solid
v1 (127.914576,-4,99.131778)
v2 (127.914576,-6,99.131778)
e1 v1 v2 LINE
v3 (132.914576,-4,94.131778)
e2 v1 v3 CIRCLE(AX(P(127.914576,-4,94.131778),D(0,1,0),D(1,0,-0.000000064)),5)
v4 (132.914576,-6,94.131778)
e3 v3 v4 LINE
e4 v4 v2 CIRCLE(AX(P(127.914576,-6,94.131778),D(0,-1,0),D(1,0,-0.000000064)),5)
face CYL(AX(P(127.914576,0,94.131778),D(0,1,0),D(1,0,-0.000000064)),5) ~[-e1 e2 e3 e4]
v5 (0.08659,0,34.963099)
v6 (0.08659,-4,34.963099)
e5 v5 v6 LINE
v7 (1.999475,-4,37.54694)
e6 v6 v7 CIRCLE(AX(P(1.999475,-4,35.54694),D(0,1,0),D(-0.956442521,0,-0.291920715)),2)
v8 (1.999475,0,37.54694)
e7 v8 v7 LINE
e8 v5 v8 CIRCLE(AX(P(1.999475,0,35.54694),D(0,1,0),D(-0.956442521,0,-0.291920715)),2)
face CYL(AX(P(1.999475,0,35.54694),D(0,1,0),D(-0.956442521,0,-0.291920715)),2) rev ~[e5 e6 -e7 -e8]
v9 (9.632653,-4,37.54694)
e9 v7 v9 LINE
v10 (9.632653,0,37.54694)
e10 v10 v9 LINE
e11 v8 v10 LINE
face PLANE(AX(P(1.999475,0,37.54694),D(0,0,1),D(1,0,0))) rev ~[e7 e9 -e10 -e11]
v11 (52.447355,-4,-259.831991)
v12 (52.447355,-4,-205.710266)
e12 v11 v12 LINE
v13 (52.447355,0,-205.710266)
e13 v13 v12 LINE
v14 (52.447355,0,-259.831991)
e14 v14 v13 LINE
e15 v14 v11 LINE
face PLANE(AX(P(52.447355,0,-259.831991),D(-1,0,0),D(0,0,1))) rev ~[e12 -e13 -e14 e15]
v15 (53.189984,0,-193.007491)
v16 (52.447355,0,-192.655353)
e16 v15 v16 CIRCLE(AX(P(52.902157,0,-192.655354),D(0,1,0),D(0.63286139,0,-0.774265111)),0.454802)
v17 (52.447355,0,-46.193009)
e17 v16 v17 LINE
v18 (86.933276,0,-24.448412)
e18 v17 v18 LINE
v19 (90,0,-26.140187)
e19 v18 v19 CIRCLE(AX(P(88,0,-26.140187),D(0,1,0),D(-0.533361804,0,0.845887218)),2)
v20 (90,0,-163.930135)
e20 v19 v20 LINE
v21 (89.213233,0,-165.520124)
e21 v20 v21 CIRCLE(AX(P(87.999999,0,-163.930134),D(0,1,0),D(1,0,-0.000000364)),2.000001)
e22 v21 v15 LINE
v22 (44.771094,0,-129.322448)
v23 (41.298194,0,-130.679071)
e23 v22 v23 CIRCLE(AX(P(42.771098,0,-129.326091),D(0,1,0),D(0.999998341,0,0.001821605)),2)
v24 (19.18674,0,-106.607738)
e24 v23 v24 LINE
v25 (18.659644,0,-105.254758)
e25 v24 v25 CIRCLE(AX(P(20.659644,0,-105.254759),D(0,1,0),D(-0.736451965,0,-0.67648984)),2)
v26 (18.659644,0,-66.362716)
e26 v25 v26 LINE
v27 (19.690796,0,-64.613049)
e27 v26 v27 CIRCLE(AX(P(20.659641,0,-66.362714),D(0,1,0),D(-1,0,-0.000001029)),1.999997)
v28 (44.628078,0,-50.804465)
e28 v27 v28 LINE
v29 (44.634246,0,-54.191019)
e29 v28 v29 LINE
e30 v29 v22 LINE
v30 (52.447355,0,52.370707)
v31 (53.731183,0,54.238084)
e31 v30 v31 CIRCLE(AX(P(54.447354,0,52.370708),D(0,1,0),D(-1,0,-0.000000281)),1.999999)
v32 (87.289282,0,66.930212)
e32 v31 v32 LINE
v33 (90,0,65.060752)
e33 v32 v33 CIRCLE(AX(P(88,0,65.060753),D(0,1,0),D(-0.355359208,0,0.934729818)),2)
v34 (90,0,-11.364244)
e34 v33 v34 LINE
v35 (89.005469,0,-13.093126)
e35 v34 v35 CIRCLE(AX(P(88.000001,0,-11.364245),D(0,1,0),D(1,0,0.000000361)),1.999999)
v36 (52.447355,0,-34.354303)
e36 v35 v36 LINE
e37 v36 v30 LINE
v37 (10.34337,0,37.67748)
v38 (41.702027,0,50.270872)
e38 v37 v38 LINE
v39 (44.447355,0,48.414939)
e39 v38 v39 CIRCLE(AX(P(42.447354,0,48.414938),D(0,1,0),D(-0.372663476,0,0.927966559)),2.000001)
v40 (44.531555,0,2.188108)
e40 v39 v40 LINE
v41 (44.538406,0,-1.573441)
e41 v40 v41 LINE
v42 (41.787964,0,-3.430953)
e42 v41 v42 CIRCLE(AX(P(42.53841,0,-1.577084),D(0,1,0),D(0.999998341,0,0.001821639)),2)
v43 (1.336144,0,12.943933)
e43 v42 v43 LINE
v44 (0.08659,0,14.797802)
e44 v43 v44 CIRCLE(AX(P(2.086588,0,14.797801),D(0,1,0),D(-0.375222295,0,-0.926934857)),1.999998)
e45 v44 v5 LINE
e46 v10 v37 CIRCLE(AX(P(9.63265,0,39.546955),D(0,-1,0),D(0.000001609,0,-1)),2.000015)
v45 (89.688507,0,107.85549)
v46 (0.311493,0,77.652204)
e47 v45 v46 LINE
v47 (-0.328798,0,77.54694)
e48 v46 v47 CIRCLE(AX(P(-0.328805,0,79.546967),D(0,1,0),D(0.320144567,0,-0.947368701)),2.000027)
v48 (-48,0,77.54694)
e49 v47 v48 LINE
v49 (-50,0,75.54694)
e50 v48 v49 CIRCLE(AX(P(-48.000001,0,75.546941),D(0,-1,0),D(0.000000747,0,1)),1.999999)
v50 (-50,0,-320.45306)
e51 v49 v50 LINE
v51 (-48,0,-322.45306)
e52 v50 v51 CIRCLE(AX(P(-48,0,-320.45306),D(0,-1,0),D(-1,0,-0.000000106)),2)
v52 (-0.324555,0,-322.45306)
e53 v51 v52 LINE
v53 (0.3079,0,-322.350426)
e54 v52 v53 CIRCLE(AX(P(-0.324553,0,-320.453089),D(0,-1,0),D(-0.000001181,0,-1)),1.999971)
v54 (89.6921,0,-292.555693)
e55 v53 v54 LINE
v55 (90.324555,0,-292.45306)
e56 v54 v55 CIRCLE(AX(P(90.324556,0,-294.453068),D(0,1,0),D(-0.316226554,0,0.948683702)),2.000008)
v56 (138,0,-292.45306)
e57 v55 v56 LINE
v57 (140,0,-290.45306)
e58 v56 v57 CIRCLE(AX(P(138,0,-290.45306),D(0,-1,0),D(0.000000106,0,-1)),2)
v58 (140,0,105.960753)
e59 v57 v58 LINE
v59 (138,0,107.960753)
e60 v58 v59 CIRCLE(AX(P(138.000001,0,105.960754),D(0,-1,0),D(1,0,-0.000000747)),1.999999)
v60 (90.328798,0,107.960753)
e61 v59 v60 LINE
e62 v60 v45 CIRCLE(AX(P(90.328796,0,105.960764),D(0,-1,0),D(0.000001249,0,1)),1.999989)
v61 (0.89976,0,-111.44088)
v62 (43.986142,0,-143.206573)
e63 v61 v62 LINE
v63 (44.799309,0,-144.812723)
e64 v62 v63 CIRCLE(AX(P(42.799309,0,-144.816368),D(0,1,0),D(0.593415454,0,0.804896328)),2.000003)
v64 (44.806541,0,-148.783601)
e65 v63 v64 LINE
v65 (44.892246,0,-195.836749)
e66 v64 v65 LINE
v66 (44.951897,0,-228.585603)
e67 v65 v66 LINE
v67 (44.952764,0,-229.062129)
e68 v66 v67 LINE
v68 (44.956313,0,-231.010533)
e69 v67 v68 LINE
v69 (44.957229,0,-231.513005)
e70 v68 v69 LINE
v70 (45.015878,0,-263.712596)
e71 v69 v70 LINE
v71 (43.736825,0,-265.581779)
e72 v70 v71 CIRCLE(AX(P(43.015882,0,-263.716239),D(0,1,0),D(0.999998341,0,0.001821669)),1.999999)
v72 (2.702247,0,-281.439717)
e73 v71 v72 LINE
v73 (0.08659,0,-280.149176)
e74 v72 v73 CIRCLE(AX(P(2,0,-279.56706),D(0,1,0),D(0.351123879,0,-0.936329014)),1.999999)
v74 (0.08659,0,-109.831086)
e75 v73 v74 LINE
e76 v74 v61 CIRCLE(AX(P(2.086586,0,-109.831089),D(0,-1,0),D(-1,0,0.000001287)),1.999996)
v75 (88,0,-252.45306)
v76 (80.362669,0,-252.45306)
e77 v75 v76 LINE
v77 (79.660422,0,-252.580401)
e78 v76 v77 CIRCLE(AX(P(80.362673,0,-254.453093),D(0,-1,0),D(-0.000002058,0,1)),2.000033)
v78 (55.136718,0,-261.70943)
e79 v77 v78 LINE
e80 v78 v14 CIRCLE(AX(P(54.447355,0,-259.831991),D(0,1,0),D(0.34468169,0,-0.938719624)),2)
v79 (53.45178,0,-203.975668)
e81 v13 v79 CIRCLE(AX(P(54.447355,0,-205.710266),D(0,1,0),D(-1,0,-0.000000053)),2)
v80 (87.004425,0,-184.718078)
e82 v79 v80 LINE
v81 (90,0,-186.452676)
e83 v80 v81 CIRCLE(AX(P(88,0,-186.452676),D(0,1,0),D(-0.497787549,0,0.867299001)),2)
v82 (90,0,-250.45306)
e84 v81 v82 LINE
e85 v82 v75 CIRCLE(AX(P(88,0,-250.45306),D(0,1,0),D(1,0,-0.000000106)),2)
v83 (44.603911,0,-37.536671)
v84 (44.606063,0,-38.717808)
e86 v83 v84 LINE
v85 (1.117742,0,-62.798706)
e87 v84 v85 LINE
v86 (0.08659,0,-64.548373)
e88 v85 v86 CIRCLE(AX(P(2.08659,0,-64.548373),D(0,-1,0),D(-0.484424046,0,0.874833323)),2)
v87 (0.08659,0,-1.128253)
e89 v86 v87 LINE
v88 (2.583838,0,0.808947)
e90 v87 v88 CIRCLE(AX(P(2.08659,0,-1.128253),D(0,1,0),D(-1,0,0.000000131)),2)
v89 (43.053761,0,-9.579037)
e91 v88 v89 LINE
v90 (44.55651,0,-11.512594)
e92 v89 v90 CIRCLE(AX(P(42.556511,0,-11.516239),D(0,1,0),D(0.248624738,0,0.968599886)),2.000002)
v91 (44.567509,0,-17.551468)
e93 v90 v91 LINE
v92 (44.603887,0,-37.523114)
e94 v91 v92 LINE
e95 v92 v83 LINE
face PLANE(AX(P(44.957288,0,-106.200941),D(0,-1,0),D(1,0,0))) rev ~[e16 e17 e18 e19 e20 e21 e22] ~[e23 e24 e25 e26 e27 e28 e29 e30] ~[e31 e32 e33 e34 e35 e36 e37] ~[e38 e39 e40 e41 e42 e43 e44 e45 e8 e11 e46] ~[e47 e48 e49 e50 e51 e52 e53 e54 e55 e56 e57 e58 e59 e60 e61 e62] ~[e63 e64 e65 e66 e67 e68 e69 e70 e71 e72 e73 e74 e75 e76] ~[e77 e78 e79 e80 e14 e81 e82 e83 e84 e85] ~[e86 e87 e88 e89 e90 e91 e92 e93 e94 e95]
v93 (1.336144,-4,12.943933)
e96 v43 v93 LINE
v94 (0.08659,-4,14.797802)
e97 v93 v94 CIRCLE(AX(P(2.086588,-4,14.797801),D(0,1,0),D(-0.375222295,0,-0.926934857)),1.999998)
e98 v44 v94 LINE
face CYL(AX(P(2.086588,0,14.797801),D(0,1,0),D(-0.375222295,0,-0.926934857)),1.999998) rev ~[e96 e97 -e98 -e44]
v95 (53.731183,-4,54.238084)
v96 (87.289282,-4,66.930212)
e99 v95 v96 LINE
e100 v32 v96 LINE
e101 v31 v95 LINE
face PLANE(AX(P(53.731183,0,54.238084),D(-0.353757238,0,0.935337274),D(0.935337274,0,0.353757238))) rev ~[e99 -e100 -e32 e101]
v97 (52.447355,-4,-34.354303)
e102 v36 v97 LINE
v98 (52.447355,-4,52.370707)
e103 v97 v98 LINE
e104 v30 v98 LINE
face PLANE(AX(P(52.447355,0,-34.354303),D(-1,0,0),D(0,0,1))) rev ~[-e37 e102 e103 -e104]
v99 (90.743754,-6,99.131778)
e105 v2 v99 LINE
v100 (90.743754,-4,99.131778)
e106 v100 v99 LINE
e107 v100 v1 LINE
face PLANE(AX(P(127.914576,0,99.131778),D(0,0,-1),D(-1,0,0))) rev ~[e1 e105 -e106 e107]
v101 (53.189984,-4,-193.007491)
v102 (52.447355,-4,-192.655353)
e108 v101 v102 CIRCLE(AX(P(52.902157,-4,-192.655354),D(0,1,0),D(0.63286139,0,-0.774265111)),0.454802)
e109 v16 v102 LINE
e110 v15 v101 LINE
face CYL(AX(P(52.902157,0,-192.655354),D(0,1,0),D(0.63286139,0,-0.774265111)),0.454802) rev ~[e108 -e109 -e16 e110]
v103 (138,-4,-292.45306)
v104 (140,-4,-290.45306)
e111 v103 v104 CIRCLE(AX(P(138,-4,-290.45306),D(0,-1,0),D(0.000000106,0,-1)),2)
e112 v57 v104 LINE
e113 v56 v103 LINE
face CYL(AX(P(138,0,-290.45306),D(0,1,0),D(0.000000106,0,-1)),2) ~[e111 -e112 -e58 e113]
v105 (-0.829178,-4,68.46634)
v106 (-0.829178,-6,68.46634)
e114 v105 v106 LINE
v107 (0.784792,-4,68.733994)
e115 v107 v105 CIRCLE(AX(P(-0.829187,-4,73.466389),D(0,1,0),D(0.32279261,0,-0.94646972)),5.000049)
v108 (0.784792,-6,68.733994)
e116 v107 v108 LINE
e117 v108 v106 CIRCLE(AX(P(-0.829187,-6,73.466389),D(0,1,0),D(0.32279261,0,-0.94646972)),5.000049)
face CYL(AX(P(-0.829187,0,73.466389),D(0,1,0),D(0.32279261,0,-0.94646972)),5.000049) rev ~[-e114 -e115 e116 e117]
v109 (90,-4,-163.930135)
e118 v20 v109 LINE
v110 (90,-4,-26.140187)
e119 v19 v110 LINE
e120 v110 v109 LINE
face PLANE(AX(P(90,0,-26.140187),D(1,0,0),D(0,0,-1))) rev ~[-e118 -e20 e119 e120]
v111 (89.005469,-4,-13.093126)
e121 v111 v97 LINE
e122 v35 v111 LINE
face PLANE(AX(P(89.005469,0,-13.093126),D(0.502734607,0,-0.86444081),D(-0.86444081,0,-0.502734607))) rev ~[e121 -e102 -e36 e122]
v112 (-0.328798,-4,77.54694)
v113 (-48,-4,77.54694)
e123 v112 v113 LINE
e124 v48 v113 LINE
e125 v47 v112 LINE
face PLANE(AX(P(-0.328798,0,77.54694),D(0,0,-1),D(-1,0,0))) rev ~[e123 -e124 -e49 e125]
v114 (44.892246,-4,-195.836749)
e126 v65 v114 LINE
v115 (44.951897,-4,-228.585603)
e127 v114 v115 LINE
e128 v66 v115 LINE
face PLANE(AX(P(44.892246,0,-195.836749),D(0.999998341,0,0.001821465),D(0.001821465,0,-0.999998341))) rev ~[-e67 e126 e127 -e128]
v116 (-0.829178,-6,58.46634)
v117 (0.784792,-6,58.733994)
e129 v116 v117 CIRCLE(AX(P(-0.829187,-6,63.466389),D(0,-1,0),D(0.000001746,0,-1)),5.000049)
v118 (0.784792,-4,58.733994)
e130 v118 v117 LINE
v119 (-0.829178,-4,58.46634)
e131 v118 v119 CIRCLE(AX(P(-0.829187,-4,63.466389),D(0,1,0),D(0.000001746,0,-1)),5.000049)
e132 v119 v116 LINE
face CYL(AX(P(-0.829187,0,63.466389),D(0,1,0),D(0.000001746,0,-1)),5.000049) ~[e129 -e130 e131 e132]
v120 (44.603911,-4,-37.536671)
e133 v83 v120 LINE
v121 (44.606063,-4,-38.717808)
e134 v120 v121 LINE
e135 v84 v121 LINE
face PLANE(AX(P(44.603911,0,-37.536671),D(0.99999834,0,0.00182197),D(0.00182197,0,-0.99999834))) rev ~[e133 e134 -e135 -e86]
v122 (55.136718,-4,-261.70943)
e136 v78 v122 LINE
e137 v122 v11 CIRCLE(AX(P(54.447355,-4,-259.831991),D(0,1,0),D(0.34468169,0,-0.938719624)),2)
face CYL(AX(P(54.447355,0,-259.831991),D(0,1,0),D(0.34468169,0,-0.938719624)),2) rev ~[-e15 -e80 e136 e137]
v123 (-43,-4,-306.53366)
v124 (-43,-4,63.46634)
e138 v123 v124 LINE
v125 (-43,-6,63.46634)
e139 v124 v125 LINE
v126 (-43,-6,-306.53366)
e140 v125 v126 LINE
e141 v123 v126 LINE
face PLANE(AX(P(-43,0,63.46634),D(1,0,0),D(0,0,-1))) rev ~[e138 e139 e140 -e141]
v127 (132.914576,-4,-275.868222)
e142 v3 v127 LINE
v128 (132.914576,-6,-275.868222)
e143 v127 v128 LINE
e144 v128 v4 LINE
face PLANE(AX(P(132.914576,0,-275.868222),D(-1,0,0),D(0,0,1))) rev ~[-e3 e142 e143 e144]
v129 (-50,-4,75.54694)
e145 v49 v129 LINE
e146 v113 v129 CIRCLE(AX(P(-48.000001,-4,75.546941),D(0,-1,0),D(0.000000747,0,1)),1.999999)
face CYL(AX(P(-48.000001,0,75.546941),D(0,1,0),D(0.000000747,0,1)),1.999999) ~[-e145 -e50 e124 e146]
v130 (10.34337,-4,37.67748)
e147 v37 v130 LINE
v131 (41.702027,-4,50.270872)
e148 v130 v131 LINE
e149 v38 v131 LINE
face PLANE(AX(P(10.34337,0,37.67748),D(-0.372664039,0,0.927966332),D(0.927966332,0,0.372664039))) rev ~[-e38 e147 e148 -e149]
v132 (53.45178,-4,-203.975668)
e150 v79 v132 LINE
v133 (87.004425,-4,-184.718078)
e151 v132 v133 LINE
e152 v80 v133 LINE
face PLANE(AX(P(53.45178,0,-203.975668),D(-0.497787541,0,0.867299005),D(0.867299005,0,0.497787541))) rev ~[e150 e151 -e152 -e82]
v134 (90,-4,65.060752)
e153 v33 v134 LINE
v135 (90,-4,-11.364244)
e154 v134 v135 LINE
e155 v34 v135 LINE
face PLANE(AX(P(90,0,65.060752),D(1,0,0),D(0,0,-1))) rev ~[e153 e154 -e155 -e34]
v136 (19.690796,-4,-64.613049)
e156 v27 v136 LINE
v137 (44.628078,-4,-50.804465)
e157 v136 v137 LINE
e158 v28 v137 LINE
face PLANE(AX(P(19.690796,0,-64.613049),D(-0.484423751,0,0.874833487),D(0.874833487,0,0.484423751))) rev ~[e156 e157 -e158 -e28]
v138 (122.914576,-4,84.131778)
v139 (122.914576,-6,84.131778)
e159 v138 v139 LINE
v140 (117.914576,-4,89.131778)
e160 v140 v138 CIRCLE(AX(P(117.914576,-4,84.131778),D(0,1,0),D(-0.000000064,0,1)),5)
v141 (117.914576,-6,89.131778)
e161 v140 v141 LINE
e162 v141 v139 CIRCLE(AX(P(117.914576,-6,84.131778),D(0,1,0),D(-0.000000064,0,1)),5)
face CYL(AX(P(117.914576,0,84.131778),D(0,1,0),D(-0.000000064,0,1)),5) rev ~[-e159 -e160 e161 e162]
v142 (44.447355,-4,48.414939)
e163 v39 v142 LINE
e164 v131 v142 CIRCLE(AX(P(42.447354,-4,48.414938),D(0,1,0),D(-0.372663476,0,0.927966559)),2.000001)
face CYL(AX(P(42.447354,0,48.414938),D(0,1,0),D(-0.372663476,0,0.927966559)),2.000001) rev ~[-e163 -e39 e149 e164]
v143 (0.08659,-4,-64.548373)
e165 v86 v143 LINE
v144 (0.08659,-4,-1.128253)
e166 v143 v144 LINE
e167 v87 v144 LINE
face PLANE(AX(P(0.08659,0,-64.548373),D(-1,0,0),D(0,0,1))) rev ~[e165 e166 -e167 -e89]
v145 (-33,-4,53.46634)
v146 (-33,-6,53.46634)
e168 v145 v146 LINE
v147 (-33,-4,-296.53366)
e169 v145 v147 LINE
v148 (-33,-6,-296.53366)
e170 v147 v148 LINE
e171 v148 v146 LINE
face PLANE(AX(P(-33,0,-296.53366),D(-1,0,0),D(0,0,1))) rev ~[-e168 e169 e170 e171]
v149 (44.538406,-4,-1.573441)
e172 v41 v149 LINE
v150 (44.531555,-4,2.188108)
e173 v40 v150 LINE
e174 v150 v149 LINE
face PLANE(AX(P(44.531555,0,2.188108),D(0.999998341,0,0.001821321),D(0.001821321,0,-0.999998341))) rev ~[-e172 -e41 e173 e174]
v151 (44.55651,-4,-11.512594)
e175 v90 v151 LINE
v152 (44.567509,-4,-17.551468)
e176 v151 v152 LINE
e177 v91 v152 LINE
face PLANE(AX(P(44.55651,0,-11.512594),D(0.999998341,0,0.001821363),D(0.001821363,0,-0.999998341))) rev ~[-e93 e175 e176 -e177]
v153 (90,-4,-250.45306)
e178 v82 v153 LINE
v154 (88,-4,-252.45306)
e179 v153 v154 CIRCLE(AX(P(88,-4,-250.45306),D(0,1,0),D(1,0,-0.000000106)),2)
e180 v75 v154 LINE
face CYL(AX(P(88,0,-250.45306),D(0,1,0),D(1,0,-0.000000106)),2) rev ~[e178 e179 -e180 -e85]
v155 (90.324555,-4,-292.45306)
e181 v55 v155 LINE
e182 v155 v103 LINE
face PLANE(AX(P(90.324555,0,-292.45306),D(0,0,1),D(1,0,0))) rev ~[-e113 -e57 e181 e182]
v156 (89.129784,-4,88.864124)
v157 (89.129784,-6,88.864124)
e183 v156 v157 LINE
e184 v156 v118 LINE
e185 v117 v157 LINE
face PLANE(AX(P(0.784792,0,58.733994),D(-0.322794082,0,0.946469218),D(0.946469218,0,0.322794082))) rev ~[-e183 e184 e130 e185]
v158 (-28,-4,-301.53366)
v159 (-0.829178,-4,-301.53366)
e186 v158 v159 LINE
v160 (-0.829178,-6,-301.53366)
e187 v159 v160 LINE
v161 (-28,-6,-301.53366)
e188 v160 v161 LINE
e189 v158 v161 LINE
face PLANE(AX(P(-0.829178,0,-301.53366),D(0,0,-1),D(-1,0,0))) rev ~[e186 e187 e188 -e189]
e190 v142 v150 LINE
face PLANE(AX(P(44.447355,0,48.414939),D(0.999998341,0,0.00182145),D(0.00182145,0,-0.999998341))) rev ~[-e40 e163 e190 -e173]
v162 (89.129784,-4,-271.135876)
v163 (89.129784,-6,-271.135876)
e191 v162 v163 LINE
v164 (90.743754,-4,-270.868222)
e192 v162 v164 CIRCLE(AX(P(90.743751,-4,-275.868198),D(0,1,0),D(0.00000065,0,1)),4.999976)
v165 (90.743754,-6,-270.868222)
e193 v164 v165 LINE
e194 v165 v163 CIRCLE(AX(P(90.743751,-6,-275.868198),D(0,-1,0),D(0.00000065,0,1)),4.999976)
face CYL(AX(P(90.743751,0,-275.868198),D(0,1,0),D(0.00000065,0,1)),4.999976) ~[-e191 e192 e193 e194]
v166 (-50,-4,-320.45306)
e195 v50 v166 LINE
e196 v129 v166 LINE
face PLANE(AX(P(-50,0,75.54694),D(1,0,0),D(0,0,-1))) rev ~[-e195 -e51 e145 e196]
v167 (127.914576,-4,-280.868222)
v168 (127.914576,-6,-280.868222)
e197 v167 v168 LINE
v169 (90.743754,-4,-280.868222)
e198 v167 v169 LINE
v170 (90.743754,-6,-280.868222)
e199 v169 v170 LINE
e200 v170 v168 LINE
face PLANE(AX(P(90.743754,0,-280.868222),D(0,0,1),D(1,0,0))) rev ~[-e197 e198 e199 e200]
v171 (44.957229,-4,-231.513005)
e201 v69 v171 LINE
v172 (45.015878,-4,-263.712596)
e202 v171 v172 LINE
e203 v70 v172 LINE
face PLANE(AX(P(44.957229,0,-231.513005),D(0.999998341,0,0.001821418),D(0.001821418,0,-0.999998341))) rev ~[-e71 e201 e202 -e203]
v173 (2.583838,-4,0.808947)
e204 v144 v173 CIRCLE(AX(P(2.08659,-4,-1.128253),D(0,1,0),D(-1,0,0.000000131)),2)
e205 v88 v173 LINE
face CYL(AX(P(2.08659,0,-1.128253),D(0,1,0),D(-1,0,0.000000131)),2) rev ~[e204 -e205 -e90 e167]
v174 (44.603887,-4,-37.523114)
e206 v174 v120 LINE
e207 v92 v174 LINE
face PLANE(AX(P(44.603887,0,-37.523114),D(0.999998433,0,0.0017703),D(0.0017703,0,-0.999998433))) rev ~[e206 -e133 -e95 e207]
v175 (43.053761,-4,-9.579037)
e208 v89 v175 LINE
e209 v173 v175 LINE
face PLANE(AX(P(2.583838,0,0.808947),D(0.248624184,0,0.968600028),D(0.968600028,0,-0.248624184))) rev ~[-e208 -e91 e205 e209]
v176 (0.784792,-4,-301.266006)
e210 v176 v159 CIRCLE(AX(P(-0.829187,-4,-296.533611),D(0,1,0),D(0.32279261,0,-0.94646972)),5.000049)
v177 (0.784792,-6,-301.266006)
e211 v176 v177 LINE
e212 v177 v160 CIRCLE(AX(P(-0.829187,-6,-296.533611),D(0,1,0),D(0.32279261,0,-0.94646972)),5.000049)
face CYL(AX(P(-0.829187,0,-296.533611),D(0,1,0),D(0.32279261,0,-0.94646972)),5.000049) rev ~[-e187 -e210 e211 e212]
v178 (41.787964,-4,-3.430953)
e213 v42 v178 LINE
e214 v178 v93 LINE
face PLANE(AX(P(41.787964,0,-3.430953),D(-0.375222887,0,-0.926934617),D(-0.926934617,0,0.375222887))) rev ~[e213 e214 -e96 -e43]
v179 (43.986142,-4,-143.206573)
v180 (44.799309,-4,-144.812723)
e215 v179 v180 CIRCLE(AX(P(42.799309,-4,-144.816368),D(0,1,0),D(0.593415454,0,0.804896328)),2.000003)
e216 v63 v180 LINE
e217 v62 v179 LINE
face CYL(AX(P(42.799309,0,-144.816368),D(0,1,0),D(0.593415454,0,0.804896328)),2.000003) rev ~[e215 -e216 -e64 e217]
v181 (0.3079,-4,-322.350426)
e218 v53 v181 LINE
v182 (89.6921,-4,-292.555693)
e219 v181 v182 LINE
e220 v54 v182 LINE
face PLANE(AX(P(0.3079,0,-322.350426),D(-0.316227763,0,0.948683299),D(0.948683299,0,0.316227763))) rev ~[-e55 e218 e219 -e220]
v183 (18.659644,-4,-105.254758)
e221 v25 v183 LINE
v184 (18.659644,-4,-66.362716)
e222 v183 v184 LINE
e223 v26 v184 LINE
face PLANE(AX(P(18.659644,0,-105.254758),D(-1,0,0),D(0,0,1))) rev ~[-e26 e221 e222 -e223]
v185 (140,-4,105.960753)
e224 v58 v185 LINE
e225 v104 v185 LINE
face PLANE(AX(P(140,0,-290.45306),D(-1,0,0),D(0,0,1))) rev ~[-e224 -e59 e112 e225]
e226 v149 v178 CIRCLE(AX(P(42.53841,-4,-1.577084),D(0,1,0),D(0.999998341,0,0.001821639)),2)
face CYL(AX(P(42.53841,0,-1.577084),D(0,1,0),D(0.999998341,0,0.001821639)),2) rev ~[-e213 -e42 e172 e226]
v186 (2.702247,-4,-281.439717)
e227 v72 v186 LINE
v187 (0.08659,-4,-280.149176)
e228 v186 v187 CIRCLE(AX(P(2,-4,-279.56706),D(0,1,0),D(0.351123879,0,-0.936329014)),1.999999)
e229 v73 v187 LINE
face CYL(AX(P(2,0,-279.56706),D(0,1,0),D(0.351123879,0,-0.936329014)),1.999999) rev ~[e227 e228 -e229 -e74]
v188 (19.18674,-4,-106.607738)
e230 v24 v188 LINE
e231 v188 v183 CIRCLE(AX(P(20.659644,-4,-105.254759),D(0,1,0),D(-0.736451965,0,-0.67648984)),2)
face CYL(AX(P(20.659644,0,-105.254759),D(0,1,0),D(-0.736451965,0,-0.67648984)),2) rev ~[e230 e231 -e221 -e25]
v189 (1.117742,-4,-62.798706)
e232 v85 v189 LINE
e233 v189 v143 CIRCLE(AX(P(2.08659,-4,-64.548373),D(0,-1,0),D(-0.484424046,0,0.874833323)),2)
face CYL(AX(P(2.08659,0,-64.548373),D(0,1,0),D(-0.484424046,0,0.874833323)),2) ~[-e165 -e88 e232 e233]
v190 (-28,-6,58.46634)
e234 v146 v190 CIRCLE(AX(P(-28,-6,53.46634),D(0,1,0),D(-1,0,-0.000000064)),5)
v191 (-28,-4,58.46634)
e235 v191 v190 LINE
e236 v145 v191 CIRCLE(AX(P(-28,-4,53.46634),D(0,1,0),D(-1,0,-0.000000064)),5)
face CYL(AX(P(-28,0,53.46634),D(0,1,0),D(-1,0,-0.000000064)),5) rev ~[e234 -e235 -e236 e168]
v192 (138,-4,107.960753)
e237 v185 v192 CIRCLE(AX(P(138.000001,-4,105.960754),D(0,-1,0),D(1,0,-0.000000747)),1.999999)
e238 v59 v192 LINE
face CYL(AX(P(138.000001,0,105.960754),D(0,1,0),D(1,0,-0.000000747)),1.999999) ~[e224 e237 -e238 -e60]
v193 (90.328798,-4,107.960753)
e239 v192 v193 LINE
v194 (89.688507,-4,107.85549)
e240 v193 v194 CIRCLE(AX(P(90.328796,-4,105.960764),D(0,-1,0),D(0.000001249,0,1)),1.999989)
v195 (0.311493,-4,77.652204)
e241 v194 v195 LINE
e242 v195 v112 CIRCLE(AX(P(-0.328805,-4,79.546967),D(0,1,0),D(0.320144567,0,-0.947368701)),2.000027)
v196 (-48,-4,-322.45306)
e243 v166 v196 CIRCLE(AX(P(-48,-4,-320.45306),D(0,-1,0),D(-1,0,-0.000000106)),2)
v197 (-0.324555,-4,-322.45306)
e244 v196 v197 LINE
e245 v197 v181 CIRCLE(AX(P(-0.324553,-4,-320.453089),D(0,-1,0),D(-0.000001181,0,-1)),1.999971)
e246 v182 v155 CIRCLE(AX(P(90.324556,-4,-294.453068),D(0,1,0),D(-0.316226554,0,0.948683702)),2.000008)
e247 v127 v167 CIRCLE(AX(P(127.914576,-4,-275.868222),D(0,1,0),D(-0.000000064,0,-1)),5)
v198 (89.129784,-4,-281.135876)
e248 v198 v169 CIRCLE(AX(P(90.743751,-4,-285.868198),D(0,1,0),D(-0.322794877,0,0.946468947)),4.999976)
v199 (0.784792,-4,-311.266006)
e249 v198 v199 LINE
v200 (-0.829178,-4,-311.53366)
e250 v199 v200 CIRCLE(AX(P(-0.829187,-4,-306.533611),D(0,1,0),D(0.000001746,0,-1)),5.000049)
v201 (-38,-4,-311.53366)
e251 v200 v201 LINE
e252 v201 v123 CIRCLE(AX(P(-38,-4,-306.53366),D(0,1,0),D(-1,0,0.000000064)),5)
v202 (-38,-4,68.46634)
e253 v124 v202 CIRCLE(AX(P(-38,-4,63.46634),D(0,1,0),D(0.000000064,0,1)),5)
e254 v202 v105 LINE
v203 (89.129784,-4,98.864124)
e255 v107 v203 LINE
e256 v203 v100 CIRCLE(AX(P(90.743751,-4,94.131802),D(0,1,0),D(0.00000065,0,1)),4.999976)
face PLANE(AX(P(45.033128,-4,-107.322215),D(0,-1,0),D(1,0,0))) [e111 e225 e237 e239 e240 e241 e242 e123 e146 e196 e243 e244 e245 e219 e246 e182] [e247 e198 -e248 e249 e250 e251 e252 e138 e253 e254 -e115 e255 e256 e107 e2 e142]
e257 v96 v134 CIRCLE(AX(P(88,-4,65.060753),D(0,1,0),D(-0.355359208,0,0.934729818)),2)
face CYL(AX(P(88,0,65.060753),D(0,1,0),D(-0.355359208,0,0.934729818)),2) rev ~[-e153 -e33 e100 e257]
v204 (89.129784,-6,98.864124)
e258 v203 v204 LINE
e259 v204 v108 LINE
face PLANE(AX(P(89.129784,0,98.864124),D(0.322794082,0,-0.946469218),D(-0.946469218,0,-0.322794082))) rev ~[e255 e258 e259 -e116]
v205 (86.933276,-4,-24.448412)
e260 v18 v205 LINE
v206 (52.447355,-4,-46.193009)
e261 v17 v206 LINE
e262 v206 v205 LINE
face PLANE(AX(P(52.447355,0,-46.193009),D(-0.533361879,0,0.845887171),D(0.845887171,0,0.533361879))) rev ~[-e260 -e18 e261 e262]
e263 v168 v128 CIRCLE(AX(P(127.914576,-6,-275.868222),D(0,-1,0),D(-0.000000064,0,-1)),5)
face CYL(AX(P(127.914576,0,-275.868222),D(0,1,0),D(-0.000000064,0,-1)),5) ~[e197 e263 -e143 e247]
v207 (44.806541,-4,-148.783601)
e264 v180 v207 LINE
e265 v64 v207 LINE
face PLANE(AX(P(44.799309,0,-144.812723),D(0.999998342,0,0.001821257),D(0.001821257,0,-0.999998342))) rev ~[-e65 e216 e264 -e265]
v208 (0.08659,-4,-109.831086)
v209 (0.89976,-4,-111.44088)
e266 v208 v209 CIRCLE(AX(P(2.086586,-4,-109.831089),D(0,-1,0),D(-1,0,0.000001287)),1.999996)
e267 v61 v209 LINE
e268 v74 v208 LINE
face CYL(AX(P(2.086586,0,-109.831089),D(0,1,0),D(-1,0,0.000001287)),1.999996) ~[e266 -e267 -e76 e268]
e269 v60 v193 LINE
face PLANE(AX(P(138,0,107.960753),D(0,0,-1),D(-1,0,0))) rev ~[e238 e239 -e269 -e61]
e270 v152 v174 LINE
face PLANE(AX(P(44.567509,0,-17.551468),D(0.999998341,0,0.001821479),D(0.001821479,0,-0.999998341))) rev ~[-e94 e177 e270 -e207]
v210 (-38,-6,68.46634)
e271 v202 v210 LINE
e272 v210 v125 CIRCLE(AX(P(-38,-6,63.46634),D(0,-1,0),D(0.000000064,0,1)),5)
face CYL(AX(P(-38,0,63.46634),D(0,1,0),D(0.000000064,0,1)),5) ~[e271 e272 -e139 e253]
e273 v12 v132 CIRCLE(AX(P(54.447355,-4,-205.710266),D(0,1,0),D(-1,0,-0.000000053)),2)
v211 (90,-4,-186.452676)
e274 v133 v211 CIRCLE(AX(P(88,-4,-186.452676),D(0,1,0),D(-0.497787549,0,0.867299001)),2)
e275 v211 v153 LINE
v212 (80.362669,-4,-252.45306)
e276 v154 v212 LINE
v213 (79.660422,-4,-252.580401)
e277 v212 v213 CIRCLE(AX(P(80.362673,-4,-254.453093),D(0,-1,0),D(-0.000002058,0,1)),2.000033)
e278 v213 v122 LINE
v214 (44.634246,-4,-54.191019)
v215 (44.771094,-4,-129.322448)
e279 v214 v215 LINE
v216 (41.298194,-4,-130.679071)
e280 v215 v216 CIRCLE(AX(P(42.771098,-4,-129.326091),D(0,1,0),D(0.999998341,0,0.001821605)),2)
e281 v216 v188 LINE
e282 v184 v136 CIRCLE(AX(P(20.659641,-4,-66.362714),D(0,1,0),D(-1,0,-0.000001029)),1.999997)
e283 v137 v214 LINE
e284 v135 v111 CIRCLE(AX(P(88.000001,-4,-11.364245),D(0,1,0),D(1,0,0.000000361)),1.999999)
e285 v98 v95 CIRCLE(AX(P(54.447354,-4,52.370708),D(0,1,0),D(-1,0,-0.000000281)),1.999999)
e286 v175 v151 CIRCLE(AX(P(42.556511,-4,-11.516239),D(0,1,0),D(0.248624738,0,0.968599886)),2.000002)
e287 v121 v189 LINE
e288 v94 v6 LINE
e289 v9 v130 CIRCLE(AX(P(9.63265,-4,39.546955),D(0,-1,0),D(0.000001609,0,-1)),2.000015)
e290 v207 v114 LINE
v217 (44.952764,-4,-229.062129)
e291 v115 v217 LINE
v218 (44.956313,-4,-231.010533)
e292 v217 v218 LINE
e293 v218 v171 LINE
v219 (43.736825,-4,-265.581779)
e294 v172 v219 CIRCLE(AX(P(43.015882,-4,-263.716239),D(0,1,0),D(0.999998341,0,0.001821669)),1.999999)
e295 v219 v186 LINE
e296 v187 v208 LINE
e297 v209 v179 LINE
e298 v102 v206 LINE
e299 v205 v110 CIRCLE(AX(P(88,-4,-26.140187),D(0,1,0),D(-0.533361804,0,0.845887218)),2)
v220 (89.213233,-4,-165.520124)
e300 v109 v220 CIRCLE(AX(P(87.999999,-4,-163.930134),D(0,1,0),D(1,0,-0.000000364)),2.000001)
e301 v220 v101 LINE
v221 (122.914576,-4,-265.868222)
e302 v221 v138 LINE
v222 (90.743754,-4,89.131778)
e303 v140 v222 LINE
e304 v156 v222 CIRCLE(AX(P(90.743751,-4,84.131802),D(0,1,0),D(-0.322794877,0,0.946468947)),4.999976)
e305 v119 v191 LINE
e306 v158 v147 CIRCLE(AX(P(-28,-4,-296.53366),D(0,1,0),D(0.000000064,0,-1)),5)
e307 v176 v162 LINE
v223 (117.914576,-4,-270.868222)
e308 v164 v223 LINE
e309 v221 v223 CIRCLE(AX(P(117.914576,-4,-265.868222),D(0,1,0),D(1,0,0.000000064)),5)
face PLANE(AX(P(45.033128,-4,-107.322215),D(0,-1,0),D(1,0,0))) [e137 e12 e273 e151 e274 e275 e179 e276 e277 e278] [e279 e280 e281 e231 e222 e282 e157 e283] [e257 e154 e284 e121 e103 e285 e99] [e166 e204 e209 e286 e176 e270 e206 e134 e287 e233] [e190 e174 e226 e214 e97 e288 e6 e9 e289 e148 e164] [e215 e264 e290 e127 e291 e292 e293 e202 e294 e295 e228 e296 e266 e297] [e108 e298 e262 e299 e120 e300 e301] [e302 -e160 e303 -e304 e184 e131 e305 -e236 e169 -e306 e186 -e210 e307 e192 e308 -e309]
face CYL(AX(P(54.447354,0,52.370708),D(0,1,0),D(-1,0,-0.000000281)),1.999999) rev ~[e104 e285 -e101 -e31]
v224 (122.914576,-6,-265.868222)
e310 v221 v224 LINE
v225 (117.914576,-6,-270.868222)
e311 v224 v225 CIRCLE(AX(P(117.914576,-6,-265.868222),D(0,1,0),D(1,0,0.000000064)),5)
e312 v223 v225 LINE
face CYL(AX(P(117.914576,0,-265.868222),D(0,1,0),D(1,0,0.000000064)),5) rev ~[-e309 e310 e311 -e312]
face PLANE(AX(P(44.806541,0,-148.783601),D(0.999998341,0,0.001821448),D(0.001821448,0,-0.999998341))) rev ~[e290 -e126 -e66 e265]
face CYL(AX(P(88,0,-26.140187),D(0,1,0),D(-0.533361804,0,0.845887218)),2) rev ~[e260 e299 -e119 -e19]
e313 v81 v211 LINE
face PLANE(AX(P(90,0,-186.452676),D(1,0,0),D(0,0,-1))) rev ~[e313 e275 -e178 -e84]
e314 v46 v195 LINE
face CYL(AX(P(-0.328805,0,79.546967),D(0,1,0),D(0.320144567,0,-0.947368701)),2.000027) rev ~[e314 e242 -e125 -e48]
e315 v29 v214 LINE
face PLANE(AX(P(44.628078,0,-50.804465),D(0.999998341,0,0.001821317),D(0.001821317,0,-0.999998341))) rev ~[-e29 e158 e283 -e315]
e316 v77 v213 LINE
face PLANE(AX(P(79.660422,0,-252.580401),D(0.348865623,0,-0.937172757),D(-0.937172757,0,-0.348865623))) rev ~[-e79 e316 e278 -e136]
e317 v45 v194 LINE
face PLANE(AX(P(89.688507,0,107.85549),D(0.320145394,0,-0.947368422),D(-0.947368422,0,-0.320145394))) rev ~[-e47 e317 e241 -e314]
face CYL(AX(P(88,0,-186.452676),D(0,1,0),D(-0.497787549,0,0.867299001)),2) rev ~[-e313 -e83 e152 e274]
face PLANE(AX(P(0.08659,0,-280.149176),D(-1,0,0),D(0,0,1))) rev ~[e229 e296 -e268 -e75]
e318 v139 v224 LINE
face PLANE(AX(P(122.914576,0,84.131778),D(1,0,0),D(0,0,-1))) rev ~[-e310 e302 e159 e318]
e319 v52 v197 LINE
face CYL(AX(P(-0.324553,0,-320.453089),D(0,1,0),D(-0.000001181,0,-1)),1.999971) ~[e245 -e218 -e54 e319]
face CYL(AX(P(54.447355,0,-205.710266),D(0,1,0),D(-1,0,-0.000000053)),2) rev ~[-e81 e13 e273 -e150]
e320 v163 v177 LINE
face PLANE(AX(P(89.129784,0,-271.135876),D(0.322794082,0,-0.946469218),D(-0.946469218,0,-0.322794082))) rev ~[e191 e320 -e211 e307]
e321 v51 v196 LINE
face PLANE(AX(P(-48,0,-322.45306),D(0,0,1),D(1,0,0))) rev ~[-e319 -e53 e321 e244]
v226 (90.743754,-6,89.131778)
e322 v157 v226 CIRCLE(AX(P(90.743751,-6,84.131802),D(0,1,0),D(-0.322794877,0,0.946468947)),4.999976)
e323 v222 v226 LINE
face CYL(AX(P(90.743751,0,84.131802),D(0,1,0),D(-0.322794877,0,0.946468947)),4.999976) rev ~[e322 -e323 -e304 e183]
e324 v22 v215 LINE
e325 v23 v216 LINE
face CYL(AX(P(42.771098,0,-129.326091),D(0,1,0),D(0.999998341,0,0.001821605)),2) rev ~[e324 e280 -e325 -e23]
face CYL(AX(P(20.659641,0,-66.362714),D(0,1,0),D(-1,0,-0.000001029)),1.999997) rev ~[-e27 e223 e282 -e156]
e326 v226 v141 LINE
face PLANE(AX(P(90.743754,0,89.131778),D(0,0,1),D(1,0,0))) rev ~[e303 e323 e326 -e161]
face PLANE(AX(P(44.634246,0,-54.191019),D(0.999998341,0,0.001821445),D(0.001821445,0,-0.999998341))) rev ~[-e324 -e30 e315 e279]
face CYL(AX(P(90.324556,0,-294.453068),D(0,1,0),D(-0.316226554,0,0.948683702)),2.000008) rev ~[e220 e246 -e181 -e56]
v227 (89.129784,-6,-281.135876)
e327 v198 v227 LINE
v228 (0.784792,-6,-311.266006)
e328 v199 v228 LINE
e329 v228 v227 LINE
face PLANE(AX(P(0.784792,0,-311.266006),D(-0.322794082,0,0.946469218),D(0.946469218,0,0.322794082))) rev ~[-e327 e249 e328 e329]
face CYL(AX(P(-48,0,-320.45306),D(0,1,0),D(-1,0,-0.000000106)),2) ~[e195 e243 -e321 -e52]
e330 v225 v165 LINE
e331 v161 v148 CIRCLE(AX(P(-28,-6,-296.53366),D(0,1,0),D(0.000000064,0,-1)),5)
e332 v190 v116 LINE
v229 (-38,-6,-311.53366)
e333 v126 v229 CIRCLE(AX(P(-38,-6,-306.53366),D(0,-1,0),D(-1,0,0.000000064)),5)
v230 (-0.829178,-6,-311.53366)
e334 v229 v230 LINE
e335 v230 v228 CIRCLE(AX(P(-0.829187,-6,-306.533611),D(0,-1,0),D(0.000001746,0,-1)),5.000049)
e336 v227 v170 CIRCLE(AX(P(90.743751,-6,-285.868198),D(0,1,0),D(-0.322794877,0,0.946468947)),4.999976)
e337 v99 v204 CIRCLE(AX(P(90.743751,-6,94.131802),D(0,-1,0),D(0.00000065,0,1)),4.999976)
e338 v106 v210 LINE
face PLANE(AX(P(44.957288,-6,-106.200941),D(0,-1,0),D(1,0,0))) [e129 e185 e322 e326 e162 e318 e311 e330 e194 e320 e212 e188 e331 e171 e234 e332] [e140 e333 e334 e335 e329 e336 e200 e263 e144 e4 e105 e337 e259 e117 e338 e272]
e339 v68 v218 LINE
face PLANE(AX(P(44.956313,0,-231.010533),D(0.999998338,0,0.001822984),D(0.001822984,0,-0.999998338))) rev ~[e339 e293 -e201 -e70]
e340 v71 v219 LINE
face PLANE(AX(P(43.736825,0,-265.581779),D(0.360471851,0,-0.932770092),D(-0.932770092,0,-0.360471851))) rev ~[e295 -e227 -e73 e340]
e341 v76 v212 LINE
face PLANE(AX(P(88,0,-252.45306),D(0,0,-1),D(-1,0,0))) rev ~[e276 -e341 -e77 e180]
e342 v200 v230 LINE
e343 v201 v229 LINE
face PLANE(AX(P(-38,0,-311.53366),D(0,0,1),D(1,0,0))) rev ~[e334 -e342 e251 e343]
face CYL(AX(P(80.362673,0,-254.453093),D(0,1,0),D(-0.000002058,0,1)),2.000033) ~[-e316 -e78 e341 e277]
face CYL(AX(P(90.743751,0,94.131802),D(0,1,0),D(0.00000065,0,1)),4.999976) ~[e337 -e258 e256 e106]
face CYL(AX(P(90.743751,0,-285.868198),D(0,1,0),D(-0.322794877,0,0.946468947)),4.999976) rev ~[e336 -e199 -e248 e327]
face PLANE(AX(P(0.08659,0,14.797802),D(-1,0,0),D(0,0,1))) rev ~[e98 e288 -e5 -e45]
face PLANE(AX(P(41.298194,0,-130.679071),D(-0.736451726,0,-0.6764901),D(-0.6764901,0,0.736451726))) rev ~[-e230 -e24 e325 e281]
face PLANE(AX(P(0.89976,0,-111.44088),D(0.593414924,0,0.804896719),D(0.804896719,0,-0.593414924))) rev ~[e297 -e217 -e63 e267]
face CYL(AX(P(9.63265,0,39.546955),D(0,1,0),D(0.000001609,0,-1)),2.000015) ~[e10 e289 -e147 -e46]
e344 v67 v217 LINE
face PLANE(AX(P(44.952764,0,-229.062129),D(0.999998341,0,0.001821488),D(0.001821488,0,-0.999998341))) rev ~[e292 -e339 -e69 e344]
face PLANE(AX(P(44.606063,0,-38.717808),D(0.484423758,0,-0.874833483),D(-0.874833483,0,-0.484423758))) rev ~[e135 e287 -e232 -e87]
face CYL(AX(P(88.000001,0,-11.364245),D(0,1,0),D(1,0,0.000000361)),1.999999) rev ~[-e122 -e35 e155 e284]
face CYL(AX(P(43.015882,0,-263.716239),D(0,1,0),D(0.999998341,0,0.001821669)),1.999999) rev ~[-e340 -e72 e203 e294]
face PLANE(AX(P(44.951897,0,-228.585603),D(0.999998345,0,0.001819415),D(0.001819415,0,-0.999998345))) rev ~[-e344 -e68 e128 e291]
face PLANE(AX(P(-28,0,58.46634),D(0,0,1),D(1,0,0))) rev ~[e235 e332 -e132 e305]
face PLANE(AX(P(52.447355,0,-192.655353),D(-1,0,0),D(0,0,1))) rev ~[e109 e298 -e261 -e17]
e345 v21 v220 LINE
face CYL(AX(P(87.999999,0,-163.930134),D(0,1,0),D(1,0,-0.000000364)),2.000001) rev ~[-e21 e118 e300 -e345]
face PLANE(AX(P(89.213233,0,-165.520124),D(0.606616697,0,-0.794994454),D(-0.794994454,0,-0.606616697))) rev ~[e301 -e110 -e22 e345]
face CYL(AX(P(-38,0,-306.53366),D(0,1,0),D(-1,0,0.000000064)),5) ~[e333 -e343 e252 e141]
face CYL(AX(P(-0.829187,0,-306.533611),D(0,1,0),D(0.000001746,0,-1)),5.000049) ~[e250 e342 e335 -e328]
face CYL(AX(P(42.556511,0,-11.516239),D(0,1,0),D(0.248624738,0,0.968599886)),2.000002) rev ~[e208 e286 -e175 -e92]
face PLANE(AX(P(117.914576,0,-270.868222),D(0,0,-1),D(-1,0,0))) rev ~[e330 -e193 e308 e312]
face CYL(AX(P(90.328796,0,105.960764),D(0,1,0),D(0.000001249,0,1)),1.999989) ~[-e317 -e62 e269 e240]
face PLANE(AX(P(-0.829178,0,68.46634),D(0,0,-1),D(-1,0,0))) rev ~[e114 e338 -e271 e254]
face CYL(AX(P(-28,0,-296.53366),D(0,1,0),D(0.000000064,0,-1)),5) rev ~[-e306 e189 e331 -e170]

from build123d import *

# Parameters (mm, degrees)
F1_DEPTH = 4
F3_DEPTH = 6


with BuildPart() as f1:
    # F0 (on Front) → F1 (new body)
    with BuildSketch(Plane.XZ):
        with BuildLine():
            ThreePointArc((0.311493, 77.652204), (-0.004355, 77.573432), (-0.328798, 77.54694))
            Line((-0.328798, 77.54694), (-48, 77.54694))
            ThreePointArc((-48, 77.54694), (-49.414214, 76.961154), (-50, 75.54694))
            Line((-50, 75.54694), (-50, -320.45306))
            ThreePointArc((-50, -320.45306), (-49.414214, -321.867273), (-48, -322.45306))
            Line((-48, -322.45306), (-0.324555, -322.45306))
            ThreePointArc((-0.324555, -322.45306), (-0.004191, -322.427235), (0.3079, -322.350426))
            Line((0.3079, -322.350426), (89.6921, -292.555693))
            ThreePointArc((89.6921, -292.555693), (90.004191, -292.478885), (90.324555, -292.45306))
            Line((90.324555, -292.45306), (138, -292.45306))
            ThreePointArc((138, -292.45306), (139.414214, -291.867273), (140, -290.45306))
            Line((140, -290.45306), (140, 105.960753))
            ThreePointArc((140, 105.960753), (139.414214, 107.374967), (138, 107.960753))
            Line((138, 107.960753), (90.328798, 107.960753))
            ThreePointArc((90.328798, 107.960753), (90.004355, 107.934262), (89.688507, 107.85549))
            Line((89.688507, 107.85549), (0.311493, 77.652204))
        make_face()
        with BuildLine():
            ThreePointArc((0.08659, 34.963099), (0.392042, 36.736965), (1.999475, 37.54694))
            Line((1.999475, 37.54694), (9.632653, 37.54694))
            ThreePointArc((9.632653, 37.54694), (9.993956, 37.579846), (10.34337, 37.67748))
            Line((10.34337, 37.67748), (41.702027, 50.270872))
            ThreePointArc((41.702027, 50.270872), (43.567476, 50.071842), (44.447355, 48.414939))
            Line((44.447355, 48.414939), (44.531555, 2.188108))
            Line((44.531555, 2.188108), (44.538406, -1.573441))
            Line((44.538406, -1.573441), (44.55651, -11.512594))
            Line((44.55651, -11.512594), (44.567509, -17.551468))
            Line((44.567509, -17.551468), (44.603887, -37.523114))
            Line((44.603887, -37.523114), (44.603911, -37.536671))
            Line((44.603911, -37.536671), (44.606063, -38.717808))
            Line((44.606063, -38.717808), (44.628078, -50.804465))
            Line((44.628078, -50.804465), (44.634246, -54.191019))
            Line((44.634246, -54.191019), (44.771094, -129.322448))
            Line((44.771094, -129.322448), (44.799309, -144.812723))
            Line((44.799309, -144.812723), (44.806541, -148.783601))
            Line((44.806541, -148.783601), (44.892246, -195.836749))
            Line((44.892246, -195.836749), (44.951897, -228.585603))
            Line((44.951897, -228.585603), (44.952764, -229.062129))
            Line((44.952764, -229.062129), (44.956313, -231.010533))
            Line((44.956313, -231.010533), (44.957229, -231.513005))
            Line((44.957229, -231.513005), (45.015878, -263.712596))
            ThreePointArc((45.015878, -263.712596), (44.666439, -264.84569), (43.736825, -265.581779))
            Line((43.736825, -265.581779), (2.702247, -281.439717))
            ThreePointArc((2.702247, -281.439717), (1.115069, -281.36063), (0.08659, -280.149176))
            Line((0.08659, -280.149176), (0.08659, -213.666722))
            Line((0.08659, -213.666722), (0.08659, -213.666518))
            Line((0.08659, -213.666518), (0.08659, -109.831086))
            Line((0.08659, -109.831086), (0.08659, -64.548373))
            Line((0.08659, -64.548373), (0.08659, -3.747635))
            Line((0.08659, -3.747635), (0.08659, -1.128253))
            Line((0.08659, -1.128253), (0.08659, 14.797802))
            Line((0.08659, 14.797802), (0.08659, 18.424725))
            Line((0.08659, 18.424725), (0.08659, 34.963099))
        make_face(mode=Mode.SUBTRACT)
        with BuildLine():
            ThreePointArc((90, -250.45306), (89.414214, -251.867273), (88, -252.45306))
            Line((88, -252.45306), (80.362669, -252.45306))
            ThreePointArc((80.362669, -252.45306), (80.00582, -252.485153), (79.660422, -252.580401))
            Line((79.660422, -252.580401), (55.136718, -261.70943))
            ThreePointArc((55.136718, -261.70943), (53.302525, -261.471919), (52.447355, -259.831991))
            Line((52.447355, -259.831991), (52.447355, -208.675399))
            Line((52.447355, -208.675399), (52.447355, -205.710266))
            Line((52.447355, -205.710266), (52.447355, -192.655353))
            Line((52.447355, -192.655353), (52.447355, -191.636056))
            Line((52.447355, -191.636056), (52.447355, -46.193009))
            Line((52.447355, -46.193009), (52.447355, -34.354303))
            Line((52.447355, -34.354303), (52.447355, 52.370707))
            ThreePointArc((52.447355, 52.370707), (52.799274, 53.503769), (53.731183, 54.238084))
            Line((53.731183, 54.238084), (87.289282, 66.930212))
            ThreePointArc((87.289282, 66.930212), (89.135466, 66.707178), (90, 65.060752))
            Line((90, 65.060752), (90, -10.053347))
            Line((90, -10.053347), (90, -11.364244))
            Line((90, -11.364244), (90, -26.140187))
            Line((90, -26.140187), (90, -29.092925))
            Line((90, -29.092925), (90, -158.712357))
            Line((90, -158.712357), (90, -163.930135))
            Line((90, -163.930135), (90, -186.452676))
            Line((90, -186.452676), (90, -189.093262))
            Line((90, -189.093262), (90, -250.45306))
        make_face(mode=Mode.SUBTRACT)
        with BuildLine():
            ThreePointArc((86.933276, -24.448412), (88.966062, -24.38898), (90, -26.140187))
            Line((90, -26.140187), (90, -11.364244))
            ThreePointArc((90, -11.364244), (89.733629, -12.361506), (89.005469, -13.093126))
            Line((89.005469, -13.093126), (52.447355, -34.354303))
            Line((52.447355, -34.354303), (52.447355, -46.193009))
            Line((52.447355, -46.193009), (86.933276, -24.448412))
        make_face()
        with BuildLine():
            ThreePointArc((1.336144, 12.943933), (0.428143, 13.679967), (0.08659, 14.797802))
            Line((0.08659, 14.797802), (0.08659, -1.128253))
            ThreePointArc((0.08659, -1.128253), (0.860722, 0.452015), (2.583838, 0.808947))
            Line((2.583838, 0.808947), (43.053761, -9.579037))
            ThreePointArc((43.053761, -9.579037), (44.135664, -10.288931), (44.55651, -11.512594))
            Line((44.55651, -11.512594), (44.538406, -1.573441))
            ThreePointArc((44.538406, -1.573441), (43.657754, -3.234512), (41.787964, -3.430953))
            Line((41.787964, -3.430953), (1.336144, 12.943933))
        make_face()
        with BuildLine():
            ThreePointArc((1.117742, -62.798706), (0.363555, -63.532917), (0.08659, -64.548373))
            Line((0.08659, -64.548373), (0.08659, -109.831086))
            ThreePointArc((0.08659, -109.831086), (0.30142, -110.732846), (0.89976, -111.44088))
            Line((0.89976, -111.44088), (43.986142, -143.206573))
            ThreePointArc((43.986142, -143.206573), (44.583659, -143.912981), (44.799309, -144.812723))
            Line((44.799309, -144.812723), (44.771094, -129.322448))
            ThreePointArc((44.771094, -129.322448), (43.498808, -131.189002), (41.298194, -130.679071))
            Line((41.298194, -130.679071), (19.18674, -106.607738))
            ThreePointArc((19.18674, -106.607738), (18.796071, -105.980772), (18.659644, -105.254758))
            Line((18.659644, -105.254758), (18.659644, -66.362716))
            ThreePointArc((18.659644, -66.362716), (18.936609, -65.347259), (19.690796, -64.613049))
            Line((19.690796, -64.613049), (44.628078, -50.804465))
            Line((44.628078, -50.804465), (44.606063, -38.717808))
            Line((44.606063, -38.717808), (1.117742, -62.798706))
        make_face()
        with BuildLine():
            ThreePointArc((87.004425, -184.718078), (89.00221, -184.721903), (90, -186.452676))
            Line((90, -186.452676), (90, -163.930135))
            ThreePointArc((90, -163.930135), (89.792549, -164.817134), (89.213233, -165.520124))
            Line((89.213233, -165.520124), (53.189984, -193.007491))
            ThreePointArc((53.189984, -193.007491), (52.707297, -193.066297), (52.447355, -192.655353))
            Line((52.447355, -192.655353), (52.447355, -205.710266))
            ThreePointArc((52.447355, -205.710266), (52.716582, -204.708056), (53.45178, -203.975668))
            Line((53.45178, -203.975668), (87.004425, -184.718078))
        make_face()
    extrude(amount=F1_DEPTH)

    # F2 (on face) → F3 (join)
    with BuildSketch(Plane.XZ):
        with BuildLine():
            Line((132.914576, -275.868222), (132.914576, 94.131778))
            ThreePointArc((132.914576, 94.131778), (131.45011, 97.667312), (127.914576, 99.131778))
            Line((127.914576, 99.131778), (90.743754, 99.131778))
            ThreePointArc((90.743754, 99.131778), (89.925748, 99.064411), (89.129784, 98.864124))
            Line((89.129784, 98.864124), (0.784792, 68.733994))
            ThreePointArc((0.784792, 68.733994), (-0.011172, 68.533708), (-0.829178, 68.46634))
            Line((-0.829178, 68.46634), (-38, 68.46634))
            ThreePointArc((-38, 68.46634), (-41.535534, 67.001874), (-43, 63.46634))
            Line((-43, 63.46634), (-43, -306.53366))
            ThreePointArc((-43, -306.53366), (-41.535534, -310.069194), (-38, -311.53366))
            Line((-38, -311.53366), (-0.829178, -311.53366))
            ThreePointArc((-0.829178, -311.53366), (-0.011172, -311.466292), (0.784792, -311.266006))
            Line((0.784792, -311.266006), (89.129784, -281.135876))
            ThreePointArc((89.129784, -281.135876), (89.925748, -280.935589), (90.743754, -280.868222))
            Line((90.743754, -280.868222), (127.914576, -280.868222))
            ThreePointArc((127.914576, -280.868222), (131.45011, -279.403756), (132.914576, -275.868222))
        make_face()
        with BuildLine():
            ThreePointArc((122.914576, -265.868222), (121.45011, -269.403756), (117.914576, -270.868222))
            Line((117.914576, -270.868222), (90.743754, -270.868222))
            ThreePointArc((90.743754, -270.868222), (89.925748, -270.935589), (89.129784, -271.135876))
            Line((89.129784, -271.135876), (0.784792, -301.266006))
            ThreePointArc((0.784792, -301.266006), (-0.011172, -301.466292), (-0.829178, -301.53366))
            Line((-0.829178, -301.53366), (-28, -301.53366))
            ThreePointArc((-28, -301.53366), (-31.535534, -300.069194), (-33, -296.53366))
            Line((-33, -296.53366), (-33, 53.46634))
            ThreePointArc((-33, 53.46634), (-31.535534, 57.001874), (-28, 58.46634))
            Line((-28, 58.46634), (-0.829178, 58.46634))
            ThreePointArc((-0.829178, 58.46634), (-0.011172, 58.533708), (0.784792, 58.733994))
            Line((0.784792, 58.733994), (89.129784, 88.864124))
            ThreePointArc((89.129784, 88.864124), (89.925748, 89.064411), (90.743754, 89.131778))
            Line((90.743754, 89.131778), (117.914576, 89.131778))
            ThreePointArc((117.914576, 89.131778), (121.45011, 87.667312), (122.914576, 84.131778))
            Line((122.914576, 84.131778), (122.914576, -265.868222))
        make_face(mode=Mode.SUBTRACT)
    extrude(amount=F3_DEPTH)


solid = f1.part
